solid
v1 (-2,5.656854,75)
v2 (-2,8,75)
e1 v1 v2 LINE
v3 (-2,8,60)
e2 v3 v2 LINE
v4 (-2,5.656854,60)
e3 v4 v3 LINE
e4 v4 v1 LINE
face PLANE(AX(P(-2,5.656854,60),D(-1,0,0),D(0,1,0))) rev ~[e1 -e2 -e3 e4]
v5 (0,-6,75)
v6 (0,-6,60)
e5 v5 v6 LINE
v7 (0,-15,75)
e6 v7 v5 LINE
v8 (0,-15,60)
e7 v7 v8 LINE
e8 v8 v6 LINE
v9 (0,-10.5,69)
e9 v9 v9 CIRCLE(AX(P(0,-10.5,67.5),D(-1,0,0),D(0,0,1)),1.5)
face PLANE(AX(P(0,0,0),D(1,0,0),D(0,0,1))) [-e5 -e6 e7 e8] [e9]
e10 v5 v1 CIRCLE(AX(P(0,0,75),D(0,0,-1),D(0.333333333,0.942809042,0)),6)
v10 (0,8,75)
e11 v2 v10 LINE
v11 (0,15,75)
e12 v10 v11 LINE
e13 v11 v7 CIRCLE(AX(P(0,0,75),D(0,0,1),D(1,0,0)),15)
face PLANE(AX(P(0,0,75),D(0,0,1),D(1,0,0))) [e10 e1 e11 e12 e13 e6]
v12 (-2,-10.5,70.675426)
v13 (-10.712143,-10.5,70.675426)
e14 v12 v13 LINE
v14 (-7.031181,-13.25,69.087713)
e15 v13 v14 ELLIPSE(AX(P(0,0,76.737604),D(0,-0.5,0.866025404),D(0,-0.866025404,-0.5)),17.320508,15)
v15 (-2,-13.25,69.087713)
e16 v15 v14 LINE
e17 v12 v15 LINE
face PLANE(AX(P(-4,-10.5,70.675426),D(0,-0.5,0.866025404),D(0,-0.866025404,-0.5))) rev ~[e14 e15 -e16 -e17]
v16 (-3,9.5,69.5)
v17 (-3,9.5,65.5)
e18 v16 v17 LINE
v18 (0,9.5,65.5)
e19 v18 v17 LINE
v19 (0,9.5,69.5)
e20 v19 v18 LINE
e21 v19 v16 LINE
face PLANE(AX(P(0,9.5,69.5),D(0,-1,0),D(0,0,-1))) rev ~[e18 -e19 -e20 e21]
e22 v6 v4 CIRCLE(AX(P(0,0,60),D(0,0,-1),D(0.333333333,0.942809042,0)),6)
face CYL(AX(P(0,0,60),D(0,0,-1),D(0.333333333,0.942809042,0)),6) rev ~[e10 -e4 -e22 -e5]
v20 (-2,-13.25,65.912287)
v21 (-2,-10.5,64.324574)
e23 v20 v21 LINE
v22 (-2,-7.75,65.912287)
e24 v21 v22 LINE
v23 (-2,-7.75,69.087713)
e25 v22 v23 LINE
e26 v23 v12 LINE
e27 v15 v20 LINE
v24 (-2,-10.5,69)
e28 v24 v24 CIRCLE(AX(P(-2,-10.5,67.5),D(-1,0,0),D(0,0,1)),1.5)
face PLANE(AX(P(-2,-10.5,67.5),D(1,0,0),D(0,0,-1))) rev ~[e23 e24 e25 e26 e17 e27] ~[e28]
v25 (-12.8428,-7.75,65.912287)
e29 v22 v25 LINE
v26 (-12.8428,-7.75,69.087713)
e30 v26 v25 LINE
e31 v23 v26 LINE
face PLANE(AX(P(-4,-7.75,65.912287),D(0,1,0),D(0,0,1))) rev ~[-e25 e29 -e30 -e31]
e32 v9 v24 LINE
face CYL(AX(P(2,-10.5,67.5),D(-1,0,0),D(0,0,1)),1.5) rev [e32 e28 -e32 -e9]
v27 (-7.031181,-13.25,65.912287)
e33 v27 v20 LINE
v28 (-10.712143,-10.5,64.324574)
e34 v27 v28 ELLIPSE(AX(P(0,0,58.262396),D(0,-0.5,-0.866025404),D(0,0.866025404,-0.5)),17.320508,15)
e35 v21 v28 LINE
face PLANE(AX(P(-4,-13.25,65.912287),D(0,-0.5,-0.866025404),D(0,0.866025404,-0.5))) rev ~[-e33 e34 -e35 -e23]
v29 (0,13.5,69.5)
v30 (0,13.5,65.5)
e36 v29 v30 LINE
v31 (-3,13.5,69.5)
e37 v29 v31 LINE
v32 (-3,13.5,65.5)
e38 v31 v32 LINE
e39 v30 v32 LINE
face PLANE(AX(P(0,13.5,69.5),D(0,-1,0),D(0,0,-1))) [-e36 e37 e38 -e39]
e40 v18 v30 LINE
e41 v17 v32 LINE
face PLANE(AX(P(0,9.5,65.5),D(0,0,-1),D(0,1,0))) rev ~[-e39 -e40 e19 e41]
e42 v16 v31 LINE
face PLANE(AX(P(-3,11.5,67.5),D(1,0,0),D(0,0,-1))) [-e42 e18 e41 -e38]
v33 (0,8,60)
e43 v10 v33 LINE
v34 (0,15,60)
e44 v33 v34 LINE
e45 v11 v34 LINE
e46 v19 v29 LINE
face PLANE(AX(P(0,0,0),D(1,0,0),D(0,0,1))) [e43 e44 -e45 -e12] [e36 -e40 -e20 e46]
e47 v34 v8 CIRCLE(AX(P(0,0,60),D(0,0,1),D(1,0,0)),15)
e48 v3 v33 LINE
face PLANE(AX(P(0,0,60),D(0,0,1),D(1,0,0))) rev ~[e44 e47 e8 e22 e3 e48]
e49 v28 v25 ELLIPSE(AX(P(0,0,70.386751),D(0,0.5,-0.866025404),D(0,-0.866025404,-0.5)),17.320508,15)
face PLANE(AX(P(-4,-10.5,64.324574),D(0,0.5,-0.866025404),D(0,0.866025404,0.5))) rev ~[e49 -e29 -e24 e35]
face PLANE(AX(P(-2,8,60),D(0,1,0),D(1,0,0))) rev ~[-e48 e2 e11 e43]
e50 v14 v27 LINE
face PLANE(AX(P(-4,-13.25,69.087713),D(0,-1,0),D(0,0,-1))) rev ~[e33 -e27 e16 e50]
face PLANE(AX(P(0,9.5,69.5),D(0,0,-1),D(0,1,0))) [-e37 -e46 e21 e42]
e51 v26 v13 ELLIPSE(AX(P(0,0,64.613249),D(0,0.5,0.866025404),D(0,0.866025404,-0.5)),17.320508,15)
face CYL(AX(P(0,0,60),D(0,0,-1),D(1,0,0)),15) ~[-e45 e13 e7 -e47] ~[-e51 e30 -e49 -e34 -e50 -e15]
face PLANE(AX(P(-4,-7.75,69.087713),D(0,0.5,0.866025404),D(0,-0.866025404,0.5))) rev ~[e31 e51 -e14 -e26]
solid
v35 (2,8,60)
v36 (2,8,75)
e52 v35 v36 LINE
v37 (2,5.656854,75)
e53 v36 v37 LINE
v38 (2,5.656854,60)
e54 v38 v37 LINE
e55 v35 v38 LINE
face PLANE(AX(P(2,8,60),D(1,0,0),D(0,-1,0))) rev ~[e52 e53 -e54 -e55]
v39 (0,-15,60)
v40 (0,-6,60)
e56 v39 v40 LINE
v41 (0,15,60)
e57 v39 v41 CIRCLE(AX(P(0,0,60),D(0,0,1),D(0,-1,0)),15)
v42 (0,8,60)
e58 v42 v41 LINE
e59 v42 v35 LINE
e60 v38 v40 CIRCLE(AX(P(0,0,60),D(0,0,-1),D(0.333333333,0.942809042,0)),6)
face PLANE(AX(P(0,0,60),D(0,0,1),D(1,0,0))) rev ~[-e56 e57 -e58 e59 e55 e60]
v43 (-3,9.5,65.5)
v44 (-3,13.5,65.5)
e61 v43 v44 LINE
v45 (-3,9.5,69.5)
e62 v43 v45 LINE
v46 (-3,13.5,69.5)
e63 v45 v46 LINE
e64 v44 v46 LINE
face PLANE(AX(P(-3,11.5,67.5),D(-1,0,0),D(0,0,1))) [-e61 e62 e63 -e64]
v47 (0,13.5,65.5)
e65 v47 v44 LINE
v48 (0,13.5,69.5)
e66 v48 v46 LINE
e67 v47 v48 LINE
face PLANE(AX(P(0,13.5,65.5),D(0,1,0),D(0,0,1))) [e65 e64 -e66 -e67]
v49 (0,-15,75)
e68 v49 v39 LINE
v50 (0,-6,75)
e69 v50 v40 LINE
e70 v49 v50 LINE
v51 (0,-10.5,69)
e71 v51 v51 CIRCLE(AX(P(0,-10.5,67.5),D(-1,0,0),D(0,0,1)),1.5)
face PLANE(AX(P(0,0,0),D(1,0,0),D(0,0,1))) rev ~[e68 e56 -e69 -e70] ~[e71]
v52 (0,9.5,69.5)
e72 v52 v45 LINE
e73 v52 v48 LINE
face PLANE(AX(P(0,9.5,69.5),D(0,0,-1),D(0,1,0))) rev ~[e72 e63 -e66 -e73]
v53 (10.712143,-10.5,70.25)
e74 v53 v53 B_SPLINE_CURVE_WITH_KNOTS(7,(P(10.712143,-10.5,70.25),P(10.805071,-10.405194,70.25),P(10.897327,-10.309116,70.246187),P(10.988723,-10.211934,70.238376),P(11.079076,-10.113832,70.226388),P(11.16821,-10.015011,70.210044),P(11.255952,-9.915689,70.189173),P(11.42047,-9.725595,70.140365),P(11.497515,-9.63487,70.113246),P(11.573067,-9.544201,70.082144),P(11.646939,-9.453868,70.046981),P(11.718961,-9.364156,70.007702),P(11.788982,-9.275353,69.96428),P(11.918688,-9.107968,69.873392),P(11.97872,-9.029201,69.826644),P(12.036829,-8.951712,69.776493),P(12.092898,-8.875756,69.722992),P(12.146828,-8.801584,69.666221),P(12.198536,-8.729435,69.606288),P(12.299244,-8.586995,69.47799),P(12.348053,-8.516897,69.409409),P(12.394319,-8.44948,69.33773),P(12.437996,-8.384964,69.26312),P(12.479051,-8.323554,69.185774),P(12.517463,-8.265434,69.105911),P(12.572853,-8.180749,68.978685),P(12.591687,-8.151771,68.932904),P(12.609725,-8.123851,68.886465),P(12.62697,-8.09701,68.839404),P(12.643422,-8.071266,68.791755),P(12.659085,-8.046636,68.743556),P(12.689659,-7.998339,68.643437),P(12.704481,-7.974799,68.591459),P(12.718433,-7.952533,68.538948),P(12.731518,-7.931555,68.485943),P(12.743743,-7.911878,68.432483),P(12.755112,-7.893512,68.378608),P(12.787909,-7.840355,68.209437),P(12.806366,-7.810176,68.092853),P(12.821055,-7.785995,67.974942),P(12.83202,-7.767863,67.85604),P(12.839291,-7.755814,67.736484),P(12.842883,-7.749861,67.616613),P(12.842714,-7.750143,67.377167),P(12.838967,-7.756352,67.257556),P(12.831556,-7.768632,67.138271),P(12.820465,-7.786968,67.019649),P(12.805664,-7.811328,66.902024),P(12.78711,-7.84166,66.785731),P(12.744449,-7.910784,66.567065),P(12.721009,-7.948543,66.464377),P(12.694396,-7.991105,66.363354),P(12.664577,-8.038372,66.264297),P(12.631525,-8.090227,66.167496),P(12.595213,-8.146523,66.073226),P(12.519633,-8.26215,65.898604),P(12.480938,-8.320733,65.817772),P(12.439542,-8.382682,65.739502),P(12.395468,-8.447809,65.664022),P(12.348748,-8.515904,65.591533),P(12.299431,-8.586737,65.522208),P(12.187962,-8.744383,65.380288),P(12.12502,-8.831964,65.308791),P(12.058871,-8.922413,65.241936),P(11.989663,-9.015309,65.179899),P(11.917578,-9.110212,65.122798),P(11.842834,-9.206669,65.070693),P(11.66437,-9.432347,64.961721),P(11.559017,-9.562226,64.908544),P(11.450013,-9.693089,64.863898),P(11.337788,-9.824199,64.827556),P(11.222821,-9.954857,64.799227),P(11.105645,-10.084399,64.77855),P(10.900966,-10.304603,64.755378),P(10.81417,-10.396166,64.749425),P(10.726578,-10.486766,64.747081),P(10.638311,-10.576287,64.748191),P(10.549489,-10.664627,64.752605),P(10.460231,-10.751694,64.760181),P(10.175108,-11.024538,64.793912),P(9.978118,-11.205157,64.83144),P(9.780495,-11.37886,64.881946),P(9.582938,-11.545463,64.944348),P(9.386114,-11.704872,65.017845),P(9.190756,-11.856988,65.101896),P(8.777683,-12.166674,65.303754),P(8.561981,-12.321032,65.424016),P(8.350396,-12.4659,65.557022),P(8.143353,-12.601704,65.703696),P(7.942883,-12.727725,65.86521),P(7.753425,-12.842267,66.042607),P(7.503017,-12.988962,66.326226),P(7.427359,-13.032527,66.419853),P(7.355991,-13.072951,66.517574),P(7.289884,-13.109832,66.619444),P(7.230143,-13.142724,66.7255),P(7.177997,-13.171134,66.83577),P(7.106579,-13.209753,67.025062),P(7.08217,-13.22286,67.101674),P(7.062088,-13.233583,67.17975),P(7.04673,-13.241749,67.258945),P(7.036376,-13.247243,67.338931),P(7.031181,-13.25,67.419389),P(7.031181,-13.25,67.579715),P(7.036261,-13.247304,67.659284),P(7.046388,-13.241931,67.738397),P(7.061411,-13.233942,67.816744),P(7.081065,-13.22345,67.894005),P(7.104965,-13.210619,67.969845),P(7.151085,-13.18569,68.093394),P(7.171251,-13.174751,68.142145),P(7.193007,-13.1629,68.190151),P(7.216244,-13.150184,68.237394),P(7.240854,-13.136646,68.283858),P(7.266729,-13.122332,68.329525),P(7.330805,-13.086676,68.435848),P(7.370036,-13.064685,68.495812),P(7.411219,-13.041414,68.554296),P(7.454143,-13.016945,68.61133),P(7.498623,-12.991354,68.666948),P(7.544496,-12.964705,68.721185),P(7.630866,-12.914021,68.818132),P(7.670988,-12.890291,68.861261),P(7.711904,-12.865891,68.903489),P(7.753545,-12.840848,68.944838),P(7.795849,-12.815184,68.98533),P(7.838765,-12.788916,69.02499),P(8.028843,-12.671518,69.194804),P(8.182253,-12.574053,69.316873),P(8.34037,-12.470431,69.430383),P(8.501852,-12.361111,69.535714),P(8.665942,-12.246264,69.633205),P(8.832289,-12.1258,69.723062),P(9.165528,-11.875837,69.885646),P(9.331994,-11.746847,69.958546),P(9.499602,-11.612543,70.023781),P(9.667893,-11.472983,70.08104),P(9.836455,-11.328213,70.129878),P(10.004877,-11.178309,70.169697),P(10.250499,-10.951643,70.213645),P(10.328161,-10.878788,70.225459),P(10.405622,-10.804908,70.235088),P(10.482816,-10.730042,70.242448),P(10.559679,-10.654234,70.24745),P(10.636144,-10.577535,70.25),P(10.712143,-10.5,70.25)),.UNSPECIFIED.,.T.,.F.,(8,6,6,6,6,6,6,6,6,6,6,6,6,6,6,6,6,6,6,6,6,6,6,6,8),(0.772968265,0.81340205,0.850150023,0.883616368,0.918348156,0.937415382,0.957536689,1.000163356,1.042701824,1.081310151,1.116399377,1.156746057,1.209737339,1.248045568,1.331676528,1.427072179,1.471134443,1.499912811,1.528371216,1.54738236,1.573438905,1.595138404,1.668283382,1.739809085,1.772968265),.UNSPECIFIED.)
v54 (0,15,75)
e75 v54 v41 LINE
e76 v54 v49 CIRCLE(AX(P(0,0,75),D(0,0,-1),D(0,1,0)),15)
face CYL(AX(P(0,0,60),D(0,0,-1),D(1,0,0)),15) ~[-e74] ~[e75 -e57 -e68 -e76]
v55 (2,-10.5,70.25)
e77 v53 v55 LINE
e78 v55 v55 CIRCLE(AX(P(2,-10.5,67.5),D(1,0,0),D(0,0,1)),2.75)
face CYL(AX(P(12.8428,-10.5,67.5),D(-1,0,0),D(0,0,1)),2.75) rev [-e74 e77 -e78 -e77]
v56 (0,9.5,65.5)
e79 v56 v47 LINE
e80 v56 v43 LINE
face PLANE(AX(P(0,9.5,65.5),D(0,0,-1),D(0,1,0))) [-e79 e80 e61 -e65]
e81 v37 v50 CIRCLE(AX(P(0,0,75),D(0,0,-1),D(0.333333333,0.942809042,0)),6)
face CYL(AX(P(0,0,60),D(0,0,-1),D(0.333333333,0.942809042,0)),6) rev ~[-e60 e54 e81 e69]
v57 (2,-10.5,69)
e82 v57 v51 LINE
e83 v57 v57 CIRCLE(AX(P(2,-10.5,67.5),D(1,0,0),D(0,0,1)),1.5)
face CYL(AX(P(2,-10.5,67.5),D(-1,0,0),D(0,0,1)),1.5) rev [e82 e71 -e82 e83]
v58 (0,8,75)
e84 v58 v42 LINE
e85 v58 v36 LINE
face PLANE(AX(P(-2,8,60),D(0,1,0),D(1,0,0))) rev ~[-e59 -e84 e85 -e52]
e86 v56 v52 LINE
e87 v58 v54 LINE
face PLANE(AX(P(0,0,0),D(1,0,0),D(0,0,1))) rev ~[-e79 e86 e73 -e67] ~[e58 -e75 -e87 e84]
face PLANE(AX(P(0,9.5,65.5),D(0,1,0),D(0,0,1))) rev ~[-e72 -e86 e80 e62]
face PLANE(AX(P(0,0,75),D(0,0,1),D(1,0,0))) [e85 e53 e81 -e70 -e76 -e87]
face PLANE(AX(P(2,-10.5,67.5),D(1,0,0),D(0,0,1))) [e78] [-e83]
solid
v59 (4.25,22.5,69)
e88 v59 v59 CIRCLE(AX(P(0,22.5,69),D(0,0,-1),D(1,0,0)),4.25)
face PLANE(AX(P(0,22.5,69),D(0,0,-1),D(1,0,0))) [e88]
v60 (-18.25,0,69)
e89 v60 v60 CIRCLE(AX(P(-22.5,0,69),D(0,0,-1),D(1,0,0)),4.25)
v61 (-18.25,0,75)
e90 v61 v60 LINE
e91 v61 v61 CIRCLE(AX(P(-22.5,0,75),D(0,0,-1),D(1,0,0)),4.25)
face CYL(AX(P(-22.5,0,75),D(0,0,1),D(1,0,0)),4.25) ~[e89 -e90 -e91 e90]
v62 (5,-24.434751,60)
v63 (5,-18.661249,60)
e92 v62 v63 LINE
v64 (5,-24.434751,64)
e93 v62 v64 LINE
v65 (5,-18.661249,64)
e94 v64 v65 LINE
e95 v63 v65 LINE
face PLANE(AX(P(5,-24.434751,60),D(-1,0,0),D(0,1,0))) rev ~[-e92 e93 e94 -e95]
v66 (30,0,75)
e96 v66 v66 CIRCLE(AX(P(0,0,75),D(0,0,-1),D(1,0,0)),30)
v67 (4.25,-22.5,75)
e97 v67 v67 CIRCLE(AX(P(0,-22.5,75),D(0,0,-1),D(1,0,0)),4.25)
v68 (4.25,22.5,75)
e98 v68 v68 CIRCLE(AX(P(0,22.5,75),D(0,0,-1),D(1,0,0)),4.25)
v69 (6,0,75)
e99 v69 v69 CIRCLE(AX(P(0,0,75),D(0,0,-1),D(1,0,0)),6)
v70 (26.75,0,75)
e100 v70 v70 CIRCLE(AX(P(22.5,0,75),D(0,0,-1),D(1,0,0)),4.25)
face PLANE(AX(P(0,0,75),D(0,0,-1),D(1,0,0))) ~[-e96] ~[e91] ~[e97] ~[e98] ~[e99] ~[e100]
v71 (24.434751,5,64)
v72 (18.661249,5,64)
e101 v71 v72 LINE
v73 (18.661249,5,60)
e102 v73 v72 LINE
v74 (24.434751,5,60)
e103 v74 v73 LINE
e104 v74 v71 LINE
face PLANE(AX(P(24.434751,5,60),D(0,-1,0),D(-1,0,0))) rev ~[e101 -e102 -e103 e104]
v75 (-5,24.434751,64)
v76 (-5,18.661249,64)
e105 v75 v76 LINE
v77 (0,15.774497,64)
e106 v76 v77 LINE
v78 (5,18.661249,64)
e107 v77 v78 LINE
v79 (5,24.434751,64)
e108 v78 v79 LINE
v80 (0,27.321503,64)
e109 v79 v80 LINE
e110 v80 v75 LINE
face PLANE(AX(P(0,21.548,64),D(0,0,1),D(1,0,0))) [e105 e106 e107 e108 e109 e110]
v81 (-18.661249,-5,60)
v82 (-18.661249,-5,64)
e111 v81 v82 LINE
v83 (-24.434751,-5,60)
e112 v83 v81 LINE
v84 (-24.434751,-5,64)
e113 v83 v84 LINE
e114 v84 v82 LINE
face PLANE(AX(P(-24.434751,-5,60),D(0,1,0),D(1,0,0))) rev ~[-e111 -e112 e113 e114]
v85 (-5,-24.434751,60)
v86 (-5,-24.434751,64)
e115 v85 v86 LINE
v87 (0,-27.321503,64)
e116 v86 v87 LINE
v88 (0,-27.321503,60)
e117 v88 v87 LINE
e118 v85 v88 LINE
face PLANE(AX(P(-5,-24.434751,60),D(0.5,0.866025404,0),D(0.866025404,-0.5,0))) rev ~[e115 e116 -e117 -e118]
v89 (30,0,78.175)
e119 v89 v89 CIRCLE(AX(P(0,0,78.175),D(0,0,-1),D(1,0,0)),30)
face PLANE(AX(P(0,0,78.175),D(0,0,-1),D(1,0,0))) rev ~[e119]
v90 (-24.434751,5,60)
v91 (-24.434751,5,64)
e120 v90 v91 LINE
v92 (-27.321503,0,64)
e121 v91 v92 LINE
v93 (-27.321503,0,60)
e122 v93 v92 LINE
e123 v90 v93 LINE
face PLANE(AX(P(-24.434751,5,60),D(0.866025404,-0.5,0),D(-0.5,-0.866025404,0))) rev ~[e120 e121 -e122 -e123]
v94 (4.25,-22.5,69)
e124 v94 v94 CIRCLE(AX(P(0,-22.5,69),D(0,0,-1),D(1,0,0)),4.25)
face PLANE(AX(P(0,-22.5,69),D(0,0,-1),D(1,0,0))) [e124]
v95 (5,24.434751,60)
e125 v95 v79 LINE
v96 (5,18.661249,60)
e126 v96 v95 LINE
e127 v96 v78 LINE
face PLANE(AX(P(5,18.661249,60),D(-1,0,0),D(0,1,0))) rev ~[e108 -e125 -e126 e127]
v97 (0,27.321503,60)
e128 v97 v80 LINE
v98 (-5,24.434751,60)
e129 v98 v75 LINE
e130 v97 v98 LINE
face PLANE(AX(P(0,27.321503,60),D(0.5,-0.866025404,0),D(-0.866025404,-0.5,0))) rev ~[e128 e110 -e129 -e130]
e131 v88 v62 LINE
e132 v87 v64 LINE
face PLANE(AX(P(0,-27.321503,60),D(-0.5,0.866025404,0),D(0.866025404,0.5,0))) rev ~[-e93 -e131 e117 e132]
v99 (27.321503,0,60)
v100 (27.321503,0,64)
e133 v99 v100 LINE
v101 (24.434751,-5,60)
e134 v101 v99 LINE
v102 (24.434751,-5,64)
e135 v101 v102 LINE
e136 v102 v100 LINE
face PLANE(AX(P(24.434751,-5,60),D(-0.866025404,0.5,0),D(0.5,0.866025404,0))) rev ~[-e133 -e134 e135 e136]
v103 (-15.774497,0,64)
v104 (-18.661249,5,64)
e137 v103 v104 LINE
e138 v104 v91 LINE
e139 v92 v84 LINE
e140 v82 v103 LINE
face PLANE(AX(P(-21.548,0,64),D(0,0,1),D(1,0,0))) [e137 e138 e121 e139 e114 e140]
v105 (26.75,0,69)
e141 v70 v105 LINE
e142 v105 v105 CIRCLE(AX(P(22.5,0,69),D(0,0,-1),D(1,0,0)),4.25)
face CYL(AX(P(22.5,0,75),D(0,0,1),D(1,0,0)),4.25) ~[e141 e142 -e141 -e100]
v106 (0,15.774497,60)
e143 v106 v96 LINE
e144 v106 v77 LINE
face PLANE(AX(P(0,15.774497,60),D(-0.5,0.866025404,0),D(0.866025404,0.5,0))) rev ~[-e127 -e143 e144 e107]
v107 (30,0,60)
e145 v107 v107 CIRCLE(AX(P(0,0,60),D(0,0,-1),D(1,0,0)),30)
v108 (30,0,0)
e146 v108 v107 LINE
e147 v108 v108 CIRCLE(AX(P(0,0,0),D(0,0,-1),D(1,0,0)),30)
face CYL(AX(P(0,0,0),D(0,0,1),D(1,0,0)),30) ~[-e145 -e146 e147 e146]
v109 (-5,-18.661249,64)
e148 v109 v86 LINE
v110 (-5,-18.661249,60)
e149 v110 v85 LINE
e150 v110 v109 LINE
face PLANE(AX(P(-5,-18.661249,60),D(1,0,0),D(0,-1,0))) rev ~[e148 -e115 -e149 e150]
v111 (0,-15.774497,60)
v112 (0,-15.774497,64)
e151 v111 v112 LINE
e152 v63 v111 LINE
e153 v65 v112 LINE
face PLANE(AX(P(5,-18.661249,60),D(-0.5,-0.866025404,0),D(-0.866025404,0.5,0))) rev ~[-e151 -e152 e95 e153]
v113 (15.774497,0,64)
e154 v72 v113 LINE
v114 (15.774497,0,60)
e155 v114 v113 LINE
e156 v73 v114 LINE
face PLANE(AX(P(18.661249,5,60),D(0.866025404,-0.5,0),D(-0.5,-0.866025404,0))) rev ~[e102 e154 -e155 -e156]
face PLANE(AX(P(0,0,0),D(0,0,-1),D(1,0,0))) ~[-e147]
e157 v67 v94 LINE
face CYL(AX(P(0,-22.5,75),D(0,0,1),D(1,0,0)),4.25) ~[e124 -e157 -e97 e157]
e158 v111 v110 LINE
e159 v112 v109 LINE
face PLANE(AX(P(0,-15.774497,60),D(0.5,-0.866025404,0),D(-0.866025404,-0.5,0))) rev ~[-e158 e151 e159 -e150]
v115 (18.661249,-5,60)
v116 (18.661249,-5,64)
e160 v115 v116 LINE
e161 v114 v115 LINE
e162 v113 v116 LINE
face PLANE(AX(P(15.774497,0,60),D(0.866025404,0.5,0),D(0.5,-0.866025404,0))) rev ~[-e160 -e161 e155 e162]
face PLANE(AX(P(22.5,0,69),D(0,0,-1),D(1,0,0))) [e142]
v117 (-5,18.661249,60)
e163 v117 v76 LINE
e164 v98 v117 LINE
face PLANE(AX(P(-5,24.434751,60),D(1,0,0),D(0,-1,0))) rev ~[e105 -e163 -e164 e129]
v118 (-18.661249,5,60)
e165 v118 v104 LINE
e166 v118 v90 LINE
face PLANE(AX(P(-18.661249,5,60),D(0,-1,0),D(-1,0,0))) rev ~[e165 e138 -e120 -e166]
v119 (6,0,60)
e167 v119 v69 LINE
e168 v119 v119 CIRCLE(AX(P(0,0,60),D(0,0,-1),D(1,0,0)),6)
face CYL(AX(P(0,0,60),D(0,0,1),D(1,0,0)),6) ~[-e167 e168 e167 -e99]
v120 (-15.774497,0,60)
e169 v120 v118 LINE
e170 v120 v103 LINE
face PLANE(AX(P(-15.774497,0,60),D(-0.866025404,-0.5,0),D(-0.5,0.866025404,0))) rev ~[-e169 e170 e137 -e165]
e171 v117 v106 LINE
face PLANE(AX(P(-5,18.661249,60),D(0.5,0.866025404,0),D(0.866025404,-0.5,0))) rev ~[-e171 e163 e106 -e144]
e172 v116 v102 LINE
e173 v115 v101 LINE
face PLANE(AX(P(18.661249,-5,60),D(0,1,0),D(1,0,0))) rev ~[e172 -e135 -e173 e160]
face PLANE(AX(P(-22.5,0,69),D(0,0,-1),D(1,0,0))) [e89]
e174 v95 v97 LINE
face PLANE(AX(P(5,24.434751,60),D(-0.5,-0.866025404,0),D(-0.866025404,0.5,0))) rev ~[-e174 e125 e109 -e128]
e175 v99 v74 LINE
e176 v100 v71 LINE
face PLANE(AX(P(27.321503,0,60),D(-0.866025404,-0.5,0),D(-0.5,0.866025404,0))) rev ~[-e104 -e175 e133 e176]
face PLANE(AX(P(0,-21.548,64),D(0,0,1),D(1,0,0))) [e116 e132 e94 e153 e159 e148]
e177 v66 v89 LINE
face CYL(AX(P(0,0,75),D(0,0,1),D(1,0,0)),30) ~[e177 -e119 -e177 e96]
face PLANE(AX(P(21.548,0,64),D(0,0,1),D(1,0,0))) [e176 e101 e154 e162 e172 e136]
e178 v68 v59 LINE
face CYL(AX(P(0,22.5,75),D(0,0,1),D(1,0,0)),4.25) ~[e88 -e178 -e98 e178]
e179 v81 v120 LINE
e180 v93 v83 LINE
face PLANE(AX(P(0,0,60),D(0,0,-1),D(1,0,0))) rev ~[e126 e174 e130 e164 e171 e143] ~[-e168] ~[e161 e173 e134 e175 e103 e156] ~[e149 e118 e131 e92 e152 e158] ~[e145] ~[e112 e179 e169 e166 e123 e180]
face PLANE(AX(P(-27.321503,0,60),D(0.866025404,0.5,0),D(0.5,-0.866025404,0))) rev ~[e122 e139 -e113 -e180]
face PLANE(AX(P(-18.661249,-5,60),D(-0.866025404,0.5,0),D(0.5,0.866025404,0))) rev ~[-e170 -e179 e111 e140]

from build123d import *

# Parameters (mm, degrees)
BOSS_EXTRUDE1_DEPTH     = 4
SKETCH4_R               = 4.25
BOSS_EXTRUDE2_DEPTH     = 6
SKETCH5_R               = 15
BOSS_EXTRUDE3_DEPTH     = 15
CUT_EXTRUDE1_DEPTH      = 2
CUT_EXTRUDE1_DEPTH_BACK = 91.373284908
SKETCH10_W              = 4
SKETCH10_H              = 4
BOSS_EXTRUDE4_DEPTH     = 3
SKETCH11_W              = 4
SKETCH11_H              = 4
CUT_EXTRUDE2_DEPTH      = 3


with BuildPart() as part:
    # Sketch2 → Revolve1 (revolve)
    with BuildSketch(Plane(origin=(0, 0, 0), x_dir=(0, 0, -1), z_dir=(1, 0, 0)), mode=Mode.PRIVATE) as revolve1_sk:
        Polygon((0, 0), (0, 30), (-60, 30), (-60, 6), (-75, 6), (-75, 30), (-78.175, 30), (-78.175, 0), align=None)
    revolve(revolve1_sk.sketch.rotate(Axis((0, 0, 1885.789937519), (0, 0, -1)), 90), axis=Axis((0, 0, 1885.789937519), (0, 0, -1)))

    # Sketch3 → Boss-Extrude1 (add)
    with BuildSketch(Plane.XY.offset(60)):
        Polygon((15.774497248, 0), (18.661248594, -5), (24.434751286, -5), (27.321502632, 0), (24.434751286, 5), (18.661248594, 5), align=None)
        Polygon((0, 15.774497248), (5, 18.661248594), (5, 24.434751286), (0, 27.321502632), (-5, 24.434751286), (-5, 18.661248594), align=None)
        Polygon((0, -15.774497248), (-5, -18.661248594), (-5, -24.434751286), (0, -27.321502632), (5, -24.434751286), (5, -18.661248594), align=None)
        Polygon((-15.774497248, 0), (-18.661248594, 5), (-24.434751286, 5), (-27.321502632, 0), (-24.434751286, -5), (-18.661248594, -5), align=None)
    extrude(amount=BOSS_EXTRUDE1_DEPTH)

    # Sketch4 → Boss-Extrude2 (add)
    with BuildSketch(Plane(origin=(0, 0, 75), x_dir=(-1, 0, 0), z_dir=(0, 0, -1))):
        with Locations(Location((0, 22.5, 0), (0, 0, 180))):
            Circle(SKETCH4_R)
        with Locations(Location((22.5, 0, 0), (0, 0, 180))):
            Circle(SKETCH4_R)
        with Locations(Location((0, -22.5, 0), (0, 0, 180))):
            Circle(SKETCH4_R)
        with Locations(Location((-22.5, 0, 0), (0, 0, 180))):
            Circle(SKETCH4_R)
    extrude(amount=BOSS_EXTRUDE2_DEPTH)


with BuildPart() as body_2:
    # Sketch5 → Boss-Extrude3 (new body)
    with BuildSketch(Plane.XY.offset(60)):
        Circle(SKETCH5_R)
        with BuildLine():
            Line((-2, 5.656854249), (-2, 8))
            Line((-2, 8), (2, 8))
            Line((2, 8), (2, 5.656854249))
            ThreePointArc((2, 5.656854249), (0, -6), (-2, 5.656854249))
        make_face(mode=Mode.SUBTRACT)
    extrude(amount=BOSS_EXTRUDE3_DEPTH)

    # Sketch7 → Cut-Revolve3 (revolve, cut)
    with BuildSketch(Plane.XY.offset(67.5), mode=Mode.PRIVATE) as cut_revolve3_sk:
        Polygon((12.842799539, -10.5), (12.842799539, -7.75), (2, -7.75), (2, -9), (-4, -9), (-4, -10.5), align=None)
    revolve(cut_revolve3_sk.sketch.rotate(Axis((-1000, -10.5, 67.5), (1, 0, 0)), 90), axis=Axis((-1000, -10.5, 67.5), (1, 0, 0)), mode=Mode.SUBTRACT)

    # Sketch9 → Cut-Extrude1 (cut, two sides)
    with BuildSketch(Plane(origin=(-4, 0, 0), x_dir=(0, 0, -1), z_dir=(1, 0, 0))) as cut_extrude1_sk:
        Polygon((-65.91228676, -13.25), (-64.324573519, -10.5), (-65.91228676, -7.75), (-69.08771324, -7.75), (-70.675426481, -10.5), (-69.08771324, -13.25), align=None)
    extrude(amount=CUT_EXTRUDE1_DEPTH, mode=Mode.SUBTRACT)
    extrude(cut_extrude1_sk.sketch, amount=-CUT_EXTRUDE1_DEPTH_BACK, mode=Mode.SUBTRACT)


with BuildPart() as body_3:
    # Split1: the piece on the far side of the plane
    add(body_2.part)
    split(bisect_by=Plane(origin=(0, 0, 0), x_dir=(0, 0, 1), z_dir=(1, 0, 0)), keep=Keep.BOTTOM)

    # Sketch11 → Cut-Extrude2 (cut)
    with BuildSketch(Plane(origin=(0, 0, 0), x_dir=(0, 0, -1), z_dir=(1, 0, 0))):
        with Locations((-67.5, 11.5)):
            Rectangle(SKETCH11_W, SKETCH11_H)
    extrude(amount=-CUT_EXTRUDE2_DEPTH, mode=Mode.SUBTRACT)


with BuildPart() as body_2_1:
    add(body_2.part)

    # Split1
    split(bisect_by=Plane(origin=(0, 0, 0), x_dir=(0, 0, 1), z_dir=(1, 0, 0)), keep=Keep.TOP)

    # Sketch10 → Boss-Extrude4 (add)
    with BuildSketch(Plane.ZY):
        with Locations((67.5, 11.5)):
            Rectangle(SKETCH10_W, SKETCH10_H)
    extrude(amount=BOSS_EXTRUDE4_DEPTH)


solid = Compound([part.part, body_3.part, body_2_1.part])
